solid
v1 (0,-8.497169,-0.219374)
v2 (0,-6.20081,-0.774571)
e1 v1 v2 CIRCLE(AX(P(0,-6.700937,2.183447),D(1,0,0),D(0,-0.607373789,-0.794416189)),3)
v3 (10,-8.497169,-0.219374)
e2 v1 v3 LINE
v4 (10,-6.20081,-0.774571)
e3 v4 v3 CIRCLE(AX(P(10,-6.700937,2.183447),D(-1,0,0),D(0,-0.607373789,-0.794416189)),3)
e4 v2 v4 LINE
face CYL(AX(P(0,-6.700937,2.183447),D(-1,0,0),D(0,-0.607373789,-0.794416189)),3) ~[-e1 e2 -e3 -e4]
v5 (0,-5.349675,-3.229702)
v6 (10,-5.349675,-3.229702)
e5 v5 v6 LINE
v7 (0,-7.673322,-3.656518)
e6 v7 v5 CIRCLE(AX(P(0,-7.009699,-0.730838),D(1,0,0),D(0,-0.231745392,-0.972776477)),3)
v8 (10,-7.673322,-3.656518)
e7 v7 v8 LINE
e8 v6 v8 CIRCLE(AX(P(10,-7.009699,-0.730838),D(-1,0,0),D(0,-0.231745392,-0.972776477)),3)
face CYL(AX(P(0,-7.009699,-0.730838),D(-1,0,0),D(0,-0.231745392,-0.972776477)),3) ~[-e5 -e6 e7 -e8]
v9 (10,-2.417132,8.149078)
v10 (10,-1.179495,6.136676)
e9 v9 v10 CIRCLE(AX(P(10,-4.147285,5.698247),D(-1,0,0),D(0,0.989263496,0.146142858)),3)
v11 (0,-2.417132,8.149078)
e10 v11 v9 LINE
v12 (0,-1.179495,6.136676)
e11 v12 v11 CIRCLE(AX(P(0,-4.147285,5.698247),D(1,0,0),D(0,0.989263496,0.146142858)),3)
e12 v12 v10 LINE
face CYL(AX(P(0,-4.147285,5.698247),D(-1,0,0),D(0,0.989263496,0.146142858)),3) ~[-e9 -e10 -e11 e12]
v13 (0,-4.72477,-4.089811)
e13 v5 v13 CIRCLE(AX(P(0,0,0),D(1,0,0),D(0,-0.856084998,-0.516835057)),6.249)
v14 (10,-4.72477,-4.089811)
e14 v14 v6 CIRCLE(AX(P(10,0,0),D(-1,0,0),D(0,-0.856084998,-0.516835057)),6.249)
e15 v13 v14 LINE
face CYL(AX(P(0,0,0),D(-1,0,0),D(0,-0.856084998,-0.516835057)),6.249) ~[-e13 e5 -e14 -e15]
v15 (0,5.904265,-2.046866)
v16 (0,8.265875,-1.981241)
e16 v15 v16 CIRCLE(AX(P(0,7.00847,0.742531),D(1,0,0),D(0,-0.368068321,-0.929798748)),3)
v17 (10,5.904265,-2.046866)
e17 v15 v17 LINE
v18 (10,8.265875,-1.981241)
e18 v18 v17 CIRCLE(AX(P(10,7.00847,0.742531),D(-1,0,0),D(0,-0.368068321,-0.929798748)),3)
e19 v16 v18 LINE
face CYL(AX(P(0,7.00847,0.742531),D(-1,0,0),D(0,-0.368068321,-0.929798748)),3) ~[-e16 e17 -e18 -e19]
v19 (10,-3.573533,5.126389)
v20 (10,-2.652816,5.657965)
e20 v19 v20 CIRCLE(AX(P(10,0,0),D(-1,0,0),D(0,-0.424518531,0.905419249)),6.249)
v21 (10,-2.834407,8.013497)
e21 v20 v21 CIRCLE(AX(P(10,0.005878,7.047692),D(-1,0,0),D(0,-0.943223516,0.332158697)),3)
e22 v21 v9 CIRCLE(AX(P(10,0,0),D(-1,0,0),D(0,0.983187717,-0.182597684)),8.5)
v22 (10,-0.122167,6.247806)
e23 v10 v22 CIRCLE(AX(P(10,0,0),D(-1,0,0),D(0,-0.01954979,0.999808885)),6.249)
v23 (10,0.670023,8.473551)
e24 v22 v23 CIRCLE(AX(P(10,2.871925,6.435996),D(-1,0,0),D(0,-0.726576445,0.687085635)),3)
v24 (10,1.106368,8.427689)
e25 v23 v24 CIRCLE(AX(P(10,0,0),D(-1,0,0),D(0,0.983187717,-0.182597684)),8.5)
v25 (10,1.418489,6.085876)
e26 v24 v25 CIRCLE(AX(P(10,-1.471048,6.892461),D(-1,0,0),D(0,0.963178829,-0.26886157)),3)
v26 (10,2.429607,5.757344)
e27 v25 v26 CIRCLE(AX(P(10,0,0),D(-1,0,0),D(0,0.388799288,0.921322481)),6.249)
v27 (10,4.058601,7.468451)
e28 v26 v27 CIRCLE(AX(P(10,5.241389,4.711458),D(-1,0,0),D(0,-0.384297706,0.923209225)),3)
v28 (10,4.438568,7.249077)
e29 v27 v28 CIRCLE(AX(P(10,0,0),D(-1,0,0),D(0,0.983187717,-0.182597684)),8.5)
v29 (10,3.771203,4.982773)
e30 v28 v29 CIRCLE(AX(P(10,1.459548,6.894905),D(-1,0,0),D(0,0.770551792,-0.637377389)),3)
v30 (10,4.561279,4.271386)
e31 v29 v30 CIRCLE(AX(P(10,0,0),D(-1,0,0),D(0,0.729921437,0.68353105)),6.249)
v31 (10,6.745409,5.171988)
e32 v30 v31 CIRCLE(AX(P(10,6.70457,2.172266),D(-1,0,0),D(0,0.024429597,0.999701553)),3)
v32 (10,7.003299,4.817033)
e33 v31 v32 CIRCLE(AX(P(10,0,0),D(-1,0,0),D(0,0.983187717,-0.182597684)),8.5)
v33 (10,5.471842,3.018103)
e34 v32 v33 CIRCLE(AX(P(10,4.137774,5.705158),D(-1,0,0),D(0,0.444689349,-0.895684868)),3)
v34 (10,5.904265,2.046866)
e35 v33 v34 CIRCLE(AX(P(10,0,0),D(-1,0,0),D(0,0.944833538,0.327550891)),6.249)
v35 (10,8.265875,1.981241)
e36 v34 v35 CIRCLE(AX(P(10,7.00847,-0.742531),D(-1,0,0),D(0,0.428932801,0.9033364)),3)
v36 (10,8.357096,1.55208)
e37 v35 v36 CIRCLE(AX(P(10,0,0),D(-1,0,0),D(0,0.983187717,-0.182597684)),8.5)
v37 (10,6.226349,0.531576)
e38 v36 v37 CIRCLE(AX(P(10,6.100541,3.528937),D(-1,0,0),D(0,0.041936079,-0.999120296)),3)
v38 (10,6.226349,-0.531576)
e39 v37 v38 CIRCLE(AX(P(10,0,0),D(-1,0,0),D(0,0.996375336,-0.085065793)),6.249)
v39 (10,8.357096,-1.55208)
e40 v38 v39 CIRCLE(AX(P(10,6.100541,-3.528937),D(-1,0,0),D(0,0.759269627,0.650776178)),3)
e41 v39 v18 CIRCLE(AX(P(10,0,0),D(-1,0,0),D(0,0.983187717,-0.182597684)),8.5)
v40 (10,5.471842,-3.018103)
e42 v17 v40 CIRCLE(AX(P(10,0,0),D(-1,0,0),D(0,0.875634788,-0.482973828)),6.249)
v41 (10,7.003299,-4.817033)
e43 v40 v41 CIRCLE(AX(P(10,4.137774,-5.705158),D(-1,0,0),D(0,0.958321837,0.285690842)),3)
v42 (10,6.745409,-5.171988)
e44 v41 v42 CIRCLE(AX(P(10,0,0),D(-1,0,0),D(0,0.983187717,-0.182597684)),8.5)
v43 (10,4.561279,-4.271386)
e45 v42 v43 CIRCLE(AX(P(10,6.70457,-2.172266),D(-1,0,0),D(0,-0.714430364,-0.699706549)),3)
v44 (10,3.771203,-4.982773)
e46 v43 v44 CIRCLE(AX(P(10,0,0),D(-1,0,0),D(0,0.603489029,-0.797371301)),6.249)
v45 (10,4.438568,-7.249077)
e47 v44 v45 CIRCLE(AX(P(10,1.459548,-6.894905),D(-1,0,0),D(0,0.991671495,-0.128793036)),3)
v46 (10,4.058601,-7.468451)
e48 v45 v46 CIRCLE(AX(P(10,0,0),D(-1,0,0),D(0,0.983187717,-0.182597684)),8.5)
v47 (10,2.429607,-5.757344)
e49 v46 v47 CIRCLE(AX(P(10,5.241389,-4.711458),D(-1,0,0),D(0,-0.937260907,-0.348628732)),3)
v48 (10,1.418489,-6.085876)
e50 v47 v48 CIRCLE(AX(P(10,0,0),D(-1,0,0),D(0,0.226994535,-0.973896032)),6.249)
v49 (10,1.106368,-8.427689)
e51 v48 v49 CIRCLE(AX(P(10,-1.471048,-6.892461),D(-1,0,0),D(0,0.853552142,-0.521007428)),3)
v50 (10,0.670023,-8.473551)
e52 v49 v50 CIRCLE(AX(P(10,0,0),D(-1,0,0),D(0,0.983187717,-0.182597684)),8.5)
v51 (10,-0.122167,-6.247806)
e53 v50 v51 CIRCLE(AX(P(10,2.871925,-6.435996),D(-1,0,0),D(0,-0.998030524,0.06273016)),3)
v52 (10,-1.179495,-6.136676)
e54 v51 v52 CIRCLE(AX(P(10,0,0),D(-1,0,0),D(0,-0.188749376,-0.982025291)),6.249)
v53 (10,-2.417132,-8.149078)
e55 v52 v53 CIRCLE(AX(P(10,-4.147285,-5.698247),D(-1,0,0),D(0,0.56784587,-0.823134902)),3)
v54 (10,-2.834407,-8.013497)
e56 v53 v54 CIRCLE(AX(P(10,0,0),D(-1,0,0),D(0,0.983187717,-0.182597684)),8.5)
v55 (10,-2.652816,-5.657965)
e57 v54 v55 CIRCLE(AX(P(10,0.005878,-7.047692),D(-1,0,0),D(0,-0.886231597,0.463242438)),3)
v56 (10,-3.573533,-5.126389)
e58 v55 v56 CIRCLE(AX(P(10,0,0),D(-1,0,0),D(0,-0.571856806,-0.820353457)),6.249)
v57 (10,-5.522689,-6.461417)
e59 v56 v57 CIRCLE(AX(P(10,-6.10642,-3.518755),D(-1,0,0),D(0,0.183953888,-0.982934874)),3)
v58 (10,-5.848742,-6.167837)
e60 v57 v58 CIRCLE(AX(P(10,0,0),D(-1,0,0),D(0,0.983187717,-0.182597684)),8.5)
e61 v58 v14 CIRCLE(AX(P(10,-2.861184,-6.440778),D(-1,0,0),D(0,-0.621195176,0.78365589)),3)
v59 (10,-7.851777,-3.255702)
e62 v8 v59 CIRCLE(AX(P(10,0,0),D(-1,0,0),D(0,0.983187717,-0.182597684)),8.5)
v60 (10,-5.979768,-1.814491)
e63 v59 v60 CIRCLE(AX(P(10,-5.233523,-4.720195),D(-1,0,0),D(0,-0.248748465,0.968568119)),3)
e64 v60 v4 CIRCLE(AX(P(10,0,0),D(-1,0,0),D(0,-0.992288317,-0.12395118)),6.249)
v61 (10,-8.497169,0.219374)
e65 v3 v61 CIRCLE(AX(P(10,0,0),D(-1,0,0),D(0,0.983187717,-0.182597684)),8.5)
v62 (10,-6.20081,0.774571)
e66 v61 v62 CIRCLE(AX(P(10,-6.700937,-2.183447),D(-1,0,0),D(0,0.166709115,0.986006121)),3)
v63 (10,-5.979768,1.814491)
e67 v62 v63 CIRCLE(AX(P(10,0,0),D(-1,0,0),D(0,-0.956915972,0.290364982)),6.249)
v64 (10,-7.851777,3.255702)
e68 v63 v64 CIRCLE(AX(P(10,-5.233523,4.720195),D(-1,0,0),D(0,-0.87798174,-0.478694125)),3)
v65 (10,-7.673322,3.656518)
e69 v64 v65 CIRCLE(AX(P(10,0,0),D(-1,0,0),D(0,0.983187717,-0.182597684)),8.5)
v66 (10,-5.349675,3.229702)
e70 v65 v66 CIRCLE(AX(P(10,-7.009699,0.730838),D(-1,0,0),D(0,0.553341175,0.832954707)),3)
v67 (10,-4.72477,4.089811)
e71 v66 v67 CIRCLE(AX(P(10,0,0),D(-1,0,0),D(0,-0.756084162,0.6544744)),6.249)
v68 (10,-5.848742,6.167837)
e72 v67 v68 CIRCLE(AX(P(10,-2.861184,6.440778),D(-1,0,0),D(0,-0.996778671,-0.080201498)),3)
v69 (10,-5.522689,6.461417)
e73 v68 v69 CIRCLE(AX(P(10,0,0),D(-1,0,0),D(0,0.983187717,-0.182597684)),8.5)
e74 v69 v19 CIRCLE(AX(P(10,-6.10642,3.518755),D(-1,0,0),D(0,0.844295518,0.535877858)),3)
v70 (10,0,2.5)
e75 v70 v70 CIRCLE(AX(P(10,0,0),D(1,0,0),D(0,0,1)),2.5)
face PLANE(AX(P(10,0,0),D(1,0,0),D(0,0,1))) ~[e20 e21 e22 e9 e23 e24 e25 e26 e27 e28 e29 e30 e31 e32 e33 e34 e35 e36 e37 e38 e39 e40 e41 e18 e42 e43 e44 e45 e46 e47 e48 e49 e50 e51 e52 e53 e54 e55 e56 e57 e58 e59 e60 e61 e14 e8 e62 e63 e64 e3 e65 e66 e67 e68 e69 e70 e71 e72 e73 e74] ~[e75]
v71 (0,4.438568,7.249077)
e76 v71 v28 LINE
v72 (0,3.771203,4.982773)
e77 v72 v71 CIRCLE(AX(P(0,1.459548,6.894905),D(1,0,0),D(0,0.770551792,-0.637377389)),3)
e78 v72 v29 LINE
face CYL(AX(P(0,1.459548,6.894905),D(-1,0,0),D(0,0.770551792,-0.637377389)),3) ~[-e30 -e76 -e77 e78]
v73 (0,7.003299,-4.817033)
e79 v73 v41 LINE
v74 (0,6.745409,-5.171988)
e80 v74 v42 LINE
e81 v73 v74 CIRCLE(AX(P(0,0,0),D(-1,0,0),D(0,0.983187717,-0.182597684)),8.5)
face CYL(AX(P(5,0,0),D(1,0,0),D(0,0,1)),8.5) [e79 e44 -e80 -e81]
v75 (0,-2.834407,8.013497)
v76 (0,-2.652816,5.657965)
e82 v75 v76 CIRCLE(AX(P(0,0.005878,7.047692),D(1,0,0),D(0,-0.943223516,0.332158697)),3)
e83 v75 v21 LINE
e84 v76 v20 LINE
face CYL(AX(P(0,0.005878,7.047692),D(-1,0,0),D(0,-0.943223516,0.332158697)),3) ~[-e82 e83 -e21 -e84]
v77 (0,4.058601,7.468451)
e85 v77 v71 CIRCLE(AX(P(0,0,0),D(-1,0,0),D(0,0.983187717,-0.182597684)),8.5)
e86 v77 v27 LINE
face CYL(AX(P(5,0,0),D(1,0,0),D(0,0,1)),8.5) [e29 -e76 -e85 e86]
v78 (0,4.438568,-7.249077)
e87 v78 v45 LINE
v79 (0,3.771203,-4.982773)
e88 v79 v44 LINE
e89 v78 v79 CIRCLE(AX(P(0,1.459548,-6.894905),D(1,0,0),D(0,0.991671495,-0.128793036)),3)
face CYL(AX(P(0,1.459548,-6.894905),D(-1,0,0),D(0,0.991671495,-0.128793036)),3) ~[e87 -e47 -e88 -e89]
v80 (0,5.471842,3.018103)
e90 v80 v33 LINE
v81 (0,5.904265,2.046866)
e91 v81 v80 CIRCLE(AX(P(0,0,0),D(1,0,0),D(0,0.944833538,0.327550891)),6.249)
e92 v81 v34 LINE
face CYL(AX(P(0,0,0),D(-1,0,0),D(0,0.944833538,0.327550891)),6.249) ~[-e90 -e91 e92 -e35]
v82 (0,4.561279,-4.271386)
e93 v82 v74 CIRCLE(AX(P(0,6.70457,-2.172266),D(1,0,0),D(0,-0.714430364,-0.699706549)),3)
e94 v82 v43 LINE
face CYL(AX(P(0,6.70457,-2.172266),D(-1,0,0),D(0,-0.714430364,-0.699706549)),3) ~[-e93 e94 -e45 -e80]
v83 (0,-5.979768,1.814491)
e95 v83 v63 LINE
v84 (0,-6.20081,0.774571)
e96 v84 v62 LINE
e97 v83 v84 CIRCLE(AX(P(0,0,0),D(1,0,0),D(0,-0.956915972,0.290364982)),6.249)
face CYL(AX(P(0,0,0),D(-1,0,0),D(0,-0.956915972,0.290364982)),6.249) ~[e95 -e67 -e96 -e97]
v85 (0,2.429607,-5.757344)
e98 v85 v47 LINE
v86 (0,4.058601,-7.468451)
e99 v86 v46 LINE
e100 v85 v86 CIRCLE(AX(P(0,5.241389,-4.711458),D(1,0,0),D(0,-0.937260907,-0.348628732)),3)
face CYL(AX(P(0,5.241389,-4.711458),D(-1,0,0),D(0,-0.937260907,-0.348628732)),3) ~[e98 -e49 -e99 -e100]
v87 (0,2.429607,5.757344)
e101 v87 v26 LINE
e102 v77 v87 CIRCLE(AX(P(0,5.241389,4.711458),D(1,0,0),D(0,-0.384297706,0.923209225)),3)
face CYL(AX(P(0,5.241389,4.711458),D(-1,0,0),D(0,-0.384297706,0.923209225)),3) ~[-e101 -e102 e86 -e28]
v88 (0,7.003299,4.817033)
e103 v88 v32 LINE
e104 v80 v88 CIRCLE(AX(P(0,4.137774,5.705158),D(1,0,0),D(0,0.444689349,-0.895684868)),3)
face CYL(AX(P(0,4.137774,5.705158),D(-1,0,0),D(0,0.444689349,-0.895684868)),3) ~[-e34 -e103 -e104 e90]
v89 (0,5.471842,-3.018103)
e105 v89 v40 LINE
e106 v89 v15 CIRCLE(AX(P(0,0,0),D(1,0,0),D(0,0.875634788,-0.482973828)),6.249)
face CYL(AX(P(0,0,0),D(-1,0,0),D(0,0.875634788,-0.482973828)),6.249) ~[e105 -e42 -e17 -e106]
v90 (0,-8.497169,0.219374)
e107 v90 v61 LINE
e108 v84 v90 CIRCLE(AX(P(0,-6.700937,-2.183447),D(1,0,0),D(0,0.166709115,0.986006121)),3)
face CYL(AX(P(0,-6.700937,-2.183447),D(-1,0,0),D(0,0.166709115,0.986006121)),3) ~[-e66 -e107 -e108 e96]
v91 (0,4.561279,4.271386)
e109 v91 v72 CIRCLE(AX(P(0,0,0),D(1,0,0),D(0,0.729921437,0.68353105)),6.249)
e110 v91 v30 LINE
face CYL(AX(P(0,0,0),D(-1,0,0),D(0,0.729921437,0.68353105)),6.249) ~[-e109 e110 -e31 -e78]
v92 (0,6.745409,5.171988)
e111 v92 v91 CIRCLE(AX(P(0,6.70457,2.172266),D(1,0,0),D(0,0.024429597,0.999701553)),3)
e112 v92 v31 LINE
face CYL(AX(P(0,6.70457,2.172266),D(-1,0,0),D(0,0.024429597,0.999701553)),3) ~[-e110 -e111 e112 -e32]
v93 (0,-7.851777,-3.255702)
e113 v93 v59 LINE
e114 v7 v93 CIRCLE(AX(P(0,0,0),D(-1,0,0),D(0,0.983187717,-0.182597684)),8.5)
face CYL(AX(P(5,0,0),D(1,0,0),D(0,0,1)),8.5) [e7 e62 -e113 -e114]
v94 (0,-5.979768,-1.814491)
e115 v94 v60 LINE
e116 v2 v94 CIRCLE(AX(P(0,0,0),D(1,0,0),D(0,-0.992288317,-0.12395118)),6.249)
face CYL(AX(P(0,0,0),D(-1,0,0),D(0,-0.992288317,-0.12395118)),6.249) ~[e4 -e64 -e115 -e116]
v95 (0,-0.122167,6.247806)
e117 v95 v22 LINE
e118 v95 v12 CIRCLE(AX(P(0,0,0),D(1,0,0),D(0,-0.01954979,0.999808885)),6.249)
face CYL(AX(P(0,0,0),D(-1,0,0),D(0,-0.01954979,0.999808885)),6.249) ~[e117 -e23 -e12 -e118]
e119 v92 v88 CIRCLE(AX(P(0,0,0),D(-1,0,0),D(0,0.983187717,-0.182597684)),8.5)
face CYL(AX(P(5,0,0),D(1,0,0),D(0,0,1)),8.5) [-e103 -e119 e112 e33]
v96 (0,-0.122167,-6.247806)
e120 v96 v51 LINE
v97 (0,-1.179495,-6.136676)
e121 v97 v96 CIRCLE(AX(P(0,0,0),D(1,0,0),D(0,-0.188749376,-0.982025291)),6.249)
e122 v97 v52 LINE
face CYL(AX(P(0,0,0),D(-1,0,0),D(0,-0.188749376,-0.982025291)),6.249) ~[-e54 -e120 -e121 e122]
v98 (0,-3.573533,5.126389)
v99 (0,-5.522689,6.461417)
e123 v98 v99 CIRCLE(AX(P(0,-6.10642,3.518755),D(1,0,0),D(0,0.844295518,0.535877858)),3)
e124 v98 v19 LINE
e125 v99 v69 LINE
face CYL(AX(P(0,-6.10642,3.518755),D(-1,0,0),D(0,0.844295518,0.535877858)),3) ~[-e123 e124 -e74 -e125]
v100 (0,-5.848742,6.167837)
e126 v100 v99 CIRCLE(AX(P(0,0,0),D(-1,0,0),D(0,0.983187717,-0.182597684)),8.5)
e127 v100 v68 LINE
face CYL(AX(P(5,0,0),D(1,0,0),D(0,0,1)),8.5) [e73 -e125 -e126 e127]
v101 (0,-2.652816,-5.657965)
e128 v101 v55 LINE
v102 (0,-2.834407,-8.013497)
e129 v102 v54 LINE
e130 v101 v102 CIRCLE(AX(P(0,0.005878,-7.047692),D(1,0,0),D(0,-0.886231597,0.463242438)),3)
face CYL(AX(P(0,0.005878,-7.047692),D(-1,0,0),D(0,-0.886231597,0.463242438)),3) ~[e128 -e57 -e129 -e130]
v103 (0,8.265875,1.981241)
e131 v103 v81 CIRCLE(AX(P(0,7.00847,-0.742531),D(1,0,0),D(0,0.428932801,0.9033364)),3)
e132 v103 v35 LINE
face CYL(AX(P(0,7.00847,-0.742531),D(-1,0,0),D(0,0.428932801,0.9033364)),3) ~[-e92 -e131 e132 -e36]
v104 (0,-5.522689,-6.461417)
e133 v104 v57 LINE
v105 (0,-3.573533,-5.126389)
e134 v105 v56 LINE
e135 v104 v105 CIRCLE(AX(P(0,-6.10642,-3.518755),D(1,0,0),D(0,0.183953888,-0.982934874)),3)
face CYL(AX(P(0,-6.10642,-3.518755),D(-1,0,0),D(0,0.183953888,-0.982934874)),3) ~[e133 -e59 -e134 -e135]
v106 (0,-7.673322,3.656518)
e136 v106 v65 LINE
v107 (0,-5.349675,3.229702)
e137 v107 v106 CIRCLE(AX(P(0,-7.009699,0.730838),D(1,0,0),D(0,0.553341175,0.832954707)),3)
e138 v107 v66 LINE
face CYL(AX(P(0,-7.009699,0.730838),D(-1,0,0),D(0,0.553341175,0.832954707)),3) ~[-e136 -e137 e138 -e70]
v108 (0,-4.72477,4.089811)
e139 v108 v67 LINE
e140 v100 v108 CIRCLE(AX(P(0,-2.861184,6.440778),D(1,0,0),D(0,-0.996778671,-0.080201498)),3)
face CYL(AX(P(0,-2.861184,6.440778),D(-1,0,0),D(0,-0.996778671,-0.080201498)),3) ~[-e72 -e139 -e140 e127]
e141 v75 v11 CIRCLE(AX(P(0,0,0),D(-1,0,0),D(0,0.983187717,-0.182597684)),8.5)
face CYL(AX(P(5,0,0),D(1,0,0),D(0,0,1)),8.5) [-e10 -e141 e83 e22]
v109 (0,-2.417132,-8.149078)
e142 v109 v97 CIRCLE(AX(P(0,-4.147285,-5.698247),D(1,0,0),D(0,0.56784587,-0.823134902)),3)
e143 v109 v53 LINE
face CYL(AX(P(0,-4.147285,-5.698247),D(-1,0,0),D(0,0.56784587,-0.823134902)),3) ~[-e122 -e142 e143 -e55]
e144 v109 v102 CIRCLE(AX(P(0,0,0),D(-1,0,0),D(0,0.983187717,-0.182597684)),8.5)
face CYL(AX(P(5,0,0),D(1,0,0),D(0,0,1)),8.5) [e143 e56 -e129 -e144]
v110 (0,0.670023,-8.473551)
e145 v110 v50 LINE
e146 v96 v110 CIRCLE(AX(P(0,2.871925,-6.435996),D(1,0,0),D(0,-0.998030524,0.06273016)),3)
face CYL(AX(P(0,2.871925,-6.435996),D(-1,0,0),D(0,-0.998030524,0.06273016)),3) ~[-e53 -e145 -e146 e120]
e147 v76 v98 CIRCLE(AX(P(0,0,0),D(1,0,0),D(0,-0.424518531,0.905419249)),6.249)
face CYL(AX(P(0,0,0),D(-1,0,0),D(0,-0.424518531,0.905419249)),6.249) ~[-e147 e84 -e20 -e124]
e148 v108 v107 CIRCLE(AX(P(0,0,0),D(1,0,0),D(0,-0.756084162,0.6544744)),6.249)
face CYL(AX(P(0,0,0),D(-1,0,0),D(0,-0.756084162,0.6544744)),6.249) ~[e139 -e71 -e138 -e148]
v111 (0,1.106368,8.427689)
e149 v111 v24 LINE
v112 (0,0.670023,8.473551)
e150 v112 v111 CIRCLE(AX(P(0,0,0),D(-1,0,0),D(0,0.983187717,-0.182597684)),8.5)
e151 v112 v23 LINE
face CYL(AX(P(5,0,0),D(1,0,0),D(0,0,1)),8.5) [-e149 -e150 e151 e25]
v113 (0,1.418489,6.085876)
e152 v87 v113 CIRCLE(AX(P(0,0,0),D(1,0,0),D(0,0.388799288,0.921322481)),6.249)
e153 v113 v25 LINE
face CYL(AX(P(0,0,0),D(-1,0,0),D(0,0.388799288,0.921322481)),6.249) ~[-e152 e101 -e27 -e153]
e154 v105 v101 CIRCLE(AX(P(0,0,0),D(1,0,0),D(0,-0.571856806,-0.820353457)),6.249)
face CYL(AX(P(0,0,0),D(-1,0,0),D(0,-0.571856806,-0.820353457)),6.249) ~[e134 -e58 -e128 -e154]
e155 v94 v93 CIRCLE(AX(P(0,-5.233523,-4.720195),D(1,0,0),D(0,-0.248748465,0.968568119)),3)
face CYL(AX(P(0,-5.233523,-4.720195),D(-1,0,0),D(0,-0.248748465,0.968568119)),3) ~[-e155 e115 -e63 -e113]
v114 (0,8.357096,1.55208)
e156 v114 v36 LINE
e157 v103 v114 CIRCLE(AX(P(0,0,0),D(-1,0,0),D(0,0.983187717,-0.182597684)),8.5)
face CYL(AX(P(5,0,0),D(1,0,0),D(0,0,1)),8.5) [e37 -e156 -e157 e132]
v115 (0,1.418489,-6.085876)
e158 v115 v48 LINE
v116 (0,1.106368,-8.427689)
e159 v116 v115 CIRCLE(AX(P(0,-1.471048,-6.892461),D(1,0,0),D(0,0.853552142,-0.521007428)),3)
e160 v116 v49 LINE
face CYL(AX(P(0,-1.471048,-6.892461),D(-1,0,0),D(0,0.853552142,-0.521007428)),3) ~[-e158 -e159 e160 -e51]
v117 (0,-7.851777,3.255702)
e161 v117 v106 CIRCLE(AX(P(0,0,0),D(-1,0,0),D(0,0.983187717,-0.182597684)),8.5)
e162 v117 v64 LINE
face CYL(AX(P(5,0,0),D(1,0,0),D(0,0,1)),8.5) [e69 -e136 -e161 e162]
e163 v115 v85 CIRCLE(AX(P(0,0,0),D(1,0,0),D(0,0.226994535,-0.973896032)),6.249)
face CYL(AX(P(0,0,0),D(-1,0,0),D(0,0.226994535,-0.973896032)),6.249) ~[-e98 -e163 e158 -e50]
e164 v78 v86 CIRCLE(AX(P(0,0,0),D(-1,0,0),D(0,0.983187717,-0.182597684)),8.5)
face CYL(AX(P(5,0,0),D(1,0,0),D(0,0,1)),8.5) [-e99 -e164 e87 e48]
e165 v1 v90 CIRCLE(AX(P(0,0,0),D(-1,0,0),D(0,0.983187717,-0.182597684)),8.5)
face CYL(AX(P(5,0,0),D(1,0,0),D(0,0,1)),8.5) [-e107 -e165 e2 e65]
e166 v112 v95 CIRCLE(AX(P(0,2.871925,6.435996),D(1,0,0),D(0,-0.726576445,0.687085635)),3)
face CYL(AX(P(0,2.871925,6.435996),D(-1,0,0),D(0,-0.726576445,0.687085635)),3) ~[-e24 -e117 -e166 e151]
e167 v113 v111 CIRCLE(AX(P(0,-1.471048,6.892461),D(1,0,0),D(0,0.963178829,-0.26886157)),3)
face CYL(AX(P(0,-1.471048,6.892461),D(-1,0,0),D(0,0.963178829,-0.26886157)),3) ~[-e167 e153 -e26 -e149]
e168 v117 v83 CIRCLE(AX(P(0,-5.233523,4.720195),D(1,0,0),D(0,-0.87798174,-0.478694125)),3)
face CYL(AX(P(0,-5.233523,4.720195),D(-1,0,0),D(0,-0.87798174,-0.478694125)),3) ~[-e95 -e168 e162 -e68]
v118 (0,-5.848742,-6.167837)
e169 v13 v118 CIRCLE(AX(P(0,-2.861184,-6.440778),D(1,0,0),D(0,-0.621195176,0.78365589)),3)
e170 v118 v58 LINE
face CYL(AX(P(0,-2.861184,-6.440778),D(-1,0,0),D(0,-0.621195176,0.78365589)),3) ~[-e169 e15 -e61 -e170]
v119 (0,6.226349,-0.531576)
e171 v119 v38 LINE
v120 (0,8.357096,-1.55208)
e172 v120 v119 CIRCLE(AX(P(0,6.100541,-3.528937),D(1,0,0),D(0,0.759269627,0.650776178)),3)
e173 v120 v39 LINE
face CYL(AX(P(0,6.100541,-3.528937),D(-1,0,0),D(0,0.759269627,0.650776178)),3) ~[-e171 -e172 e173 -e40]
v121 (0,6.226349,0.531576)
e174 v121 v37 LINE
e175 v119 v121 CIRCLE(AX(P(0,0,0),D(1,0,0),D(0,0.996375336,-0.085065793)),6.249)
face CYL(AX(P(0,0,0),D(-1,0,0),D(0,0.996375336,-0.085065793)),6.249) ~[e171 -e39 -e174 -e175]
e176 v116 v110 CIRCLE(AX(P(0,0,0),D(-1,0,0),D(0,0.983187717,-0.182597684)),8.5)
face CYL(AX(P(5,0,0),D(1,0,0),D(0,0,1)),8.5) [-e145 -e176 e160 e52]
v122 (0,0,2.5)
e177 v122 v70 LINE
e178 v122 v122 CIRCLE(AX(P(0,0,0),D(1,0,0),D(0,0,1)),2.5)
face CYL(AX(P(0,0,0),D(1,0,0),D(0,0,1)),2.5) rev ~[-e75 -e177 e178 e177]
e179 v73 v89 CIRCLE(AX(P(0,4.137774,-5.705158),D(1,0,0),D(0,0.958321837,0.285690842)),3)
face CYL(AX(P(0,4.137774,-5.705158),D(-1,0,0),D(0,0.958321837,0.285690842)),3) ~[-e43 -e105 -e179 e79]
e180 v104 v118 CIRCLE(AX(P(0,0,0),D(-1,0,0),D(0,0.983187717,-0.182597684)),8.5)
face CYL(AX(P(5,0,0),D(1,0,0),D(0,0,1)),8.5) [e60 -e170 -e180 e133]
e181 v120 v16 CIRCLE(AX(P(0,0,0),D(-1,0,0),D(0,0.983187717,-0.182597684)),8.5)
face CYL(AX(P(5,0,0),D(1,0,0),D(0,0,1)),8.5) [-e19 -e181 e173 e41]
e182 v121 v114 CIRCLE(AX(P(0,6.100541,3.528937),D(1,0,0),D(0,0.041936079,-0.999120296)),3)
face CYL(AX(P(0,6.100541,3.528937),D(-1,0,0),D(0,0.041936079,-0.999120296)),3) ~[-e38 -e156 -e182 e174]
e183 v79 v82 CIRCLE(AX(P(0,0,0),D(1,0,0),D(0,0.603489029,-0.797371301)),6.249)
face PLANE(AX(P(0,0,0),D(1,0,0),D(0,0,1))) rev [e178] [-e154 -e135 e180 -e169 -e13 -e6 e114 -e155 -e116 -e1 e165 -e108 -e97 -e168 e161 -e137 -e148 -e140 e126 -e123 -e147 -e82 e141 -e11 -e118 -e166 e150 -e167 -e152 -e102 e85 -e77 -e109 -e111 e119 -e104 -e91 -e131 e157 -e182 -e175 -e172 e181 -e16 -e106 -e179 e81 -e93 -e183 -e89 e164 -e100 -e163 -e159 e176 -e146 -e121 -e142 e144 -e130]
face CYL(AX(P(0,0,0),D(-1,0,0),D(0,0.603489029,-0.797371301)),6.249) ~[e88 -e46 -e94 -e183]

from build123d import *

# Parameters (mm, degrees)
BASPROSKE_W     = 10
BASPROSKE_H     = 8.5
TOOTHCUT_DEPTH  = 16.636495771
TEETHCUTS_COUNT = 15
TEETHCUTS_ANGLE = 336
BORSKE_R        = 2.5
BORE_DEPTH      = 50.0000508


with BuildPart() as part:
    # BasProSke → Base-Revolve (revolve)
    with BuildSketch(Plane(origin=(0, 0, 0), x_dir=(1, 0, 0), z_dir=(0, 1, 0)), mode=Mode.PRIVATE) as base_revolve_sk:
        with Locations((5, 4.25)):
            Rectangle(BASPROSKE_W, BASPROSKE_H)
    revolve(base_revolve_sk.sketch.rotate(Axis((-10, 0, 0), (1, 0, 0)), 180), axis=Axis((-10, 0, 0), (1, 0, 0)))

    # TooCutSke → ToothCut (cut, through all)
    with BuildSketch(Plane(origin=(0, 0, 0), x_dir=(0, 0, -1), z_dir=(1, 0, 0))):
        with BuildLine():
            ThreePointArc((0.531576138, 6.226349477), (0, 6.249), (-0.531576138, 6.226349477))
            ThreePointArc((-0.531576138, 6.226349477), (-0.830301624, 7.411024729), (-1.576608494, 8.378350125))
            ThreePointArc((-1.576608494, 8.378350125), (0, 8.5254), (1.576608494, 8.378350125))
            ThreePointArc((1.576608494, 8.378350125), (0.830301624, 7.411024729), (0.531576138, 6.226349477))
        make_face()
    toothcut = extrude(amount=TOOTHCUT_DEPTH, mode=Mode.SUBTRACT)

    # TeethCuts: ToothCut ×15 about axis
    teethcuts_axis = Axis((-10, 0, 0), (1, 0, 0))
    for i in range(1, TEETHCUTS_COUNT):
        add(toothcut.rotate(teethcuts_axis, i * TEETHCUTS_ANGLE / (TEETHCUTS_COUNT - 1)), mode=Mode.SUBTRACT)

    # BorSke → Bore (cut, symmetric)
    with BuildSketch(Plane(origin=(0, 0, 0), x_dir=(0, 0, -1), z_dir=(1, 0, 0))):
        with Locations(Location((0, 0, 0), (0, 0, 180))):
            Circle(BORSKE_R)
    extrude(amount=BORE_DEPTH, both=True, mode=Mode.SUBTRACT)


solid = part.part
